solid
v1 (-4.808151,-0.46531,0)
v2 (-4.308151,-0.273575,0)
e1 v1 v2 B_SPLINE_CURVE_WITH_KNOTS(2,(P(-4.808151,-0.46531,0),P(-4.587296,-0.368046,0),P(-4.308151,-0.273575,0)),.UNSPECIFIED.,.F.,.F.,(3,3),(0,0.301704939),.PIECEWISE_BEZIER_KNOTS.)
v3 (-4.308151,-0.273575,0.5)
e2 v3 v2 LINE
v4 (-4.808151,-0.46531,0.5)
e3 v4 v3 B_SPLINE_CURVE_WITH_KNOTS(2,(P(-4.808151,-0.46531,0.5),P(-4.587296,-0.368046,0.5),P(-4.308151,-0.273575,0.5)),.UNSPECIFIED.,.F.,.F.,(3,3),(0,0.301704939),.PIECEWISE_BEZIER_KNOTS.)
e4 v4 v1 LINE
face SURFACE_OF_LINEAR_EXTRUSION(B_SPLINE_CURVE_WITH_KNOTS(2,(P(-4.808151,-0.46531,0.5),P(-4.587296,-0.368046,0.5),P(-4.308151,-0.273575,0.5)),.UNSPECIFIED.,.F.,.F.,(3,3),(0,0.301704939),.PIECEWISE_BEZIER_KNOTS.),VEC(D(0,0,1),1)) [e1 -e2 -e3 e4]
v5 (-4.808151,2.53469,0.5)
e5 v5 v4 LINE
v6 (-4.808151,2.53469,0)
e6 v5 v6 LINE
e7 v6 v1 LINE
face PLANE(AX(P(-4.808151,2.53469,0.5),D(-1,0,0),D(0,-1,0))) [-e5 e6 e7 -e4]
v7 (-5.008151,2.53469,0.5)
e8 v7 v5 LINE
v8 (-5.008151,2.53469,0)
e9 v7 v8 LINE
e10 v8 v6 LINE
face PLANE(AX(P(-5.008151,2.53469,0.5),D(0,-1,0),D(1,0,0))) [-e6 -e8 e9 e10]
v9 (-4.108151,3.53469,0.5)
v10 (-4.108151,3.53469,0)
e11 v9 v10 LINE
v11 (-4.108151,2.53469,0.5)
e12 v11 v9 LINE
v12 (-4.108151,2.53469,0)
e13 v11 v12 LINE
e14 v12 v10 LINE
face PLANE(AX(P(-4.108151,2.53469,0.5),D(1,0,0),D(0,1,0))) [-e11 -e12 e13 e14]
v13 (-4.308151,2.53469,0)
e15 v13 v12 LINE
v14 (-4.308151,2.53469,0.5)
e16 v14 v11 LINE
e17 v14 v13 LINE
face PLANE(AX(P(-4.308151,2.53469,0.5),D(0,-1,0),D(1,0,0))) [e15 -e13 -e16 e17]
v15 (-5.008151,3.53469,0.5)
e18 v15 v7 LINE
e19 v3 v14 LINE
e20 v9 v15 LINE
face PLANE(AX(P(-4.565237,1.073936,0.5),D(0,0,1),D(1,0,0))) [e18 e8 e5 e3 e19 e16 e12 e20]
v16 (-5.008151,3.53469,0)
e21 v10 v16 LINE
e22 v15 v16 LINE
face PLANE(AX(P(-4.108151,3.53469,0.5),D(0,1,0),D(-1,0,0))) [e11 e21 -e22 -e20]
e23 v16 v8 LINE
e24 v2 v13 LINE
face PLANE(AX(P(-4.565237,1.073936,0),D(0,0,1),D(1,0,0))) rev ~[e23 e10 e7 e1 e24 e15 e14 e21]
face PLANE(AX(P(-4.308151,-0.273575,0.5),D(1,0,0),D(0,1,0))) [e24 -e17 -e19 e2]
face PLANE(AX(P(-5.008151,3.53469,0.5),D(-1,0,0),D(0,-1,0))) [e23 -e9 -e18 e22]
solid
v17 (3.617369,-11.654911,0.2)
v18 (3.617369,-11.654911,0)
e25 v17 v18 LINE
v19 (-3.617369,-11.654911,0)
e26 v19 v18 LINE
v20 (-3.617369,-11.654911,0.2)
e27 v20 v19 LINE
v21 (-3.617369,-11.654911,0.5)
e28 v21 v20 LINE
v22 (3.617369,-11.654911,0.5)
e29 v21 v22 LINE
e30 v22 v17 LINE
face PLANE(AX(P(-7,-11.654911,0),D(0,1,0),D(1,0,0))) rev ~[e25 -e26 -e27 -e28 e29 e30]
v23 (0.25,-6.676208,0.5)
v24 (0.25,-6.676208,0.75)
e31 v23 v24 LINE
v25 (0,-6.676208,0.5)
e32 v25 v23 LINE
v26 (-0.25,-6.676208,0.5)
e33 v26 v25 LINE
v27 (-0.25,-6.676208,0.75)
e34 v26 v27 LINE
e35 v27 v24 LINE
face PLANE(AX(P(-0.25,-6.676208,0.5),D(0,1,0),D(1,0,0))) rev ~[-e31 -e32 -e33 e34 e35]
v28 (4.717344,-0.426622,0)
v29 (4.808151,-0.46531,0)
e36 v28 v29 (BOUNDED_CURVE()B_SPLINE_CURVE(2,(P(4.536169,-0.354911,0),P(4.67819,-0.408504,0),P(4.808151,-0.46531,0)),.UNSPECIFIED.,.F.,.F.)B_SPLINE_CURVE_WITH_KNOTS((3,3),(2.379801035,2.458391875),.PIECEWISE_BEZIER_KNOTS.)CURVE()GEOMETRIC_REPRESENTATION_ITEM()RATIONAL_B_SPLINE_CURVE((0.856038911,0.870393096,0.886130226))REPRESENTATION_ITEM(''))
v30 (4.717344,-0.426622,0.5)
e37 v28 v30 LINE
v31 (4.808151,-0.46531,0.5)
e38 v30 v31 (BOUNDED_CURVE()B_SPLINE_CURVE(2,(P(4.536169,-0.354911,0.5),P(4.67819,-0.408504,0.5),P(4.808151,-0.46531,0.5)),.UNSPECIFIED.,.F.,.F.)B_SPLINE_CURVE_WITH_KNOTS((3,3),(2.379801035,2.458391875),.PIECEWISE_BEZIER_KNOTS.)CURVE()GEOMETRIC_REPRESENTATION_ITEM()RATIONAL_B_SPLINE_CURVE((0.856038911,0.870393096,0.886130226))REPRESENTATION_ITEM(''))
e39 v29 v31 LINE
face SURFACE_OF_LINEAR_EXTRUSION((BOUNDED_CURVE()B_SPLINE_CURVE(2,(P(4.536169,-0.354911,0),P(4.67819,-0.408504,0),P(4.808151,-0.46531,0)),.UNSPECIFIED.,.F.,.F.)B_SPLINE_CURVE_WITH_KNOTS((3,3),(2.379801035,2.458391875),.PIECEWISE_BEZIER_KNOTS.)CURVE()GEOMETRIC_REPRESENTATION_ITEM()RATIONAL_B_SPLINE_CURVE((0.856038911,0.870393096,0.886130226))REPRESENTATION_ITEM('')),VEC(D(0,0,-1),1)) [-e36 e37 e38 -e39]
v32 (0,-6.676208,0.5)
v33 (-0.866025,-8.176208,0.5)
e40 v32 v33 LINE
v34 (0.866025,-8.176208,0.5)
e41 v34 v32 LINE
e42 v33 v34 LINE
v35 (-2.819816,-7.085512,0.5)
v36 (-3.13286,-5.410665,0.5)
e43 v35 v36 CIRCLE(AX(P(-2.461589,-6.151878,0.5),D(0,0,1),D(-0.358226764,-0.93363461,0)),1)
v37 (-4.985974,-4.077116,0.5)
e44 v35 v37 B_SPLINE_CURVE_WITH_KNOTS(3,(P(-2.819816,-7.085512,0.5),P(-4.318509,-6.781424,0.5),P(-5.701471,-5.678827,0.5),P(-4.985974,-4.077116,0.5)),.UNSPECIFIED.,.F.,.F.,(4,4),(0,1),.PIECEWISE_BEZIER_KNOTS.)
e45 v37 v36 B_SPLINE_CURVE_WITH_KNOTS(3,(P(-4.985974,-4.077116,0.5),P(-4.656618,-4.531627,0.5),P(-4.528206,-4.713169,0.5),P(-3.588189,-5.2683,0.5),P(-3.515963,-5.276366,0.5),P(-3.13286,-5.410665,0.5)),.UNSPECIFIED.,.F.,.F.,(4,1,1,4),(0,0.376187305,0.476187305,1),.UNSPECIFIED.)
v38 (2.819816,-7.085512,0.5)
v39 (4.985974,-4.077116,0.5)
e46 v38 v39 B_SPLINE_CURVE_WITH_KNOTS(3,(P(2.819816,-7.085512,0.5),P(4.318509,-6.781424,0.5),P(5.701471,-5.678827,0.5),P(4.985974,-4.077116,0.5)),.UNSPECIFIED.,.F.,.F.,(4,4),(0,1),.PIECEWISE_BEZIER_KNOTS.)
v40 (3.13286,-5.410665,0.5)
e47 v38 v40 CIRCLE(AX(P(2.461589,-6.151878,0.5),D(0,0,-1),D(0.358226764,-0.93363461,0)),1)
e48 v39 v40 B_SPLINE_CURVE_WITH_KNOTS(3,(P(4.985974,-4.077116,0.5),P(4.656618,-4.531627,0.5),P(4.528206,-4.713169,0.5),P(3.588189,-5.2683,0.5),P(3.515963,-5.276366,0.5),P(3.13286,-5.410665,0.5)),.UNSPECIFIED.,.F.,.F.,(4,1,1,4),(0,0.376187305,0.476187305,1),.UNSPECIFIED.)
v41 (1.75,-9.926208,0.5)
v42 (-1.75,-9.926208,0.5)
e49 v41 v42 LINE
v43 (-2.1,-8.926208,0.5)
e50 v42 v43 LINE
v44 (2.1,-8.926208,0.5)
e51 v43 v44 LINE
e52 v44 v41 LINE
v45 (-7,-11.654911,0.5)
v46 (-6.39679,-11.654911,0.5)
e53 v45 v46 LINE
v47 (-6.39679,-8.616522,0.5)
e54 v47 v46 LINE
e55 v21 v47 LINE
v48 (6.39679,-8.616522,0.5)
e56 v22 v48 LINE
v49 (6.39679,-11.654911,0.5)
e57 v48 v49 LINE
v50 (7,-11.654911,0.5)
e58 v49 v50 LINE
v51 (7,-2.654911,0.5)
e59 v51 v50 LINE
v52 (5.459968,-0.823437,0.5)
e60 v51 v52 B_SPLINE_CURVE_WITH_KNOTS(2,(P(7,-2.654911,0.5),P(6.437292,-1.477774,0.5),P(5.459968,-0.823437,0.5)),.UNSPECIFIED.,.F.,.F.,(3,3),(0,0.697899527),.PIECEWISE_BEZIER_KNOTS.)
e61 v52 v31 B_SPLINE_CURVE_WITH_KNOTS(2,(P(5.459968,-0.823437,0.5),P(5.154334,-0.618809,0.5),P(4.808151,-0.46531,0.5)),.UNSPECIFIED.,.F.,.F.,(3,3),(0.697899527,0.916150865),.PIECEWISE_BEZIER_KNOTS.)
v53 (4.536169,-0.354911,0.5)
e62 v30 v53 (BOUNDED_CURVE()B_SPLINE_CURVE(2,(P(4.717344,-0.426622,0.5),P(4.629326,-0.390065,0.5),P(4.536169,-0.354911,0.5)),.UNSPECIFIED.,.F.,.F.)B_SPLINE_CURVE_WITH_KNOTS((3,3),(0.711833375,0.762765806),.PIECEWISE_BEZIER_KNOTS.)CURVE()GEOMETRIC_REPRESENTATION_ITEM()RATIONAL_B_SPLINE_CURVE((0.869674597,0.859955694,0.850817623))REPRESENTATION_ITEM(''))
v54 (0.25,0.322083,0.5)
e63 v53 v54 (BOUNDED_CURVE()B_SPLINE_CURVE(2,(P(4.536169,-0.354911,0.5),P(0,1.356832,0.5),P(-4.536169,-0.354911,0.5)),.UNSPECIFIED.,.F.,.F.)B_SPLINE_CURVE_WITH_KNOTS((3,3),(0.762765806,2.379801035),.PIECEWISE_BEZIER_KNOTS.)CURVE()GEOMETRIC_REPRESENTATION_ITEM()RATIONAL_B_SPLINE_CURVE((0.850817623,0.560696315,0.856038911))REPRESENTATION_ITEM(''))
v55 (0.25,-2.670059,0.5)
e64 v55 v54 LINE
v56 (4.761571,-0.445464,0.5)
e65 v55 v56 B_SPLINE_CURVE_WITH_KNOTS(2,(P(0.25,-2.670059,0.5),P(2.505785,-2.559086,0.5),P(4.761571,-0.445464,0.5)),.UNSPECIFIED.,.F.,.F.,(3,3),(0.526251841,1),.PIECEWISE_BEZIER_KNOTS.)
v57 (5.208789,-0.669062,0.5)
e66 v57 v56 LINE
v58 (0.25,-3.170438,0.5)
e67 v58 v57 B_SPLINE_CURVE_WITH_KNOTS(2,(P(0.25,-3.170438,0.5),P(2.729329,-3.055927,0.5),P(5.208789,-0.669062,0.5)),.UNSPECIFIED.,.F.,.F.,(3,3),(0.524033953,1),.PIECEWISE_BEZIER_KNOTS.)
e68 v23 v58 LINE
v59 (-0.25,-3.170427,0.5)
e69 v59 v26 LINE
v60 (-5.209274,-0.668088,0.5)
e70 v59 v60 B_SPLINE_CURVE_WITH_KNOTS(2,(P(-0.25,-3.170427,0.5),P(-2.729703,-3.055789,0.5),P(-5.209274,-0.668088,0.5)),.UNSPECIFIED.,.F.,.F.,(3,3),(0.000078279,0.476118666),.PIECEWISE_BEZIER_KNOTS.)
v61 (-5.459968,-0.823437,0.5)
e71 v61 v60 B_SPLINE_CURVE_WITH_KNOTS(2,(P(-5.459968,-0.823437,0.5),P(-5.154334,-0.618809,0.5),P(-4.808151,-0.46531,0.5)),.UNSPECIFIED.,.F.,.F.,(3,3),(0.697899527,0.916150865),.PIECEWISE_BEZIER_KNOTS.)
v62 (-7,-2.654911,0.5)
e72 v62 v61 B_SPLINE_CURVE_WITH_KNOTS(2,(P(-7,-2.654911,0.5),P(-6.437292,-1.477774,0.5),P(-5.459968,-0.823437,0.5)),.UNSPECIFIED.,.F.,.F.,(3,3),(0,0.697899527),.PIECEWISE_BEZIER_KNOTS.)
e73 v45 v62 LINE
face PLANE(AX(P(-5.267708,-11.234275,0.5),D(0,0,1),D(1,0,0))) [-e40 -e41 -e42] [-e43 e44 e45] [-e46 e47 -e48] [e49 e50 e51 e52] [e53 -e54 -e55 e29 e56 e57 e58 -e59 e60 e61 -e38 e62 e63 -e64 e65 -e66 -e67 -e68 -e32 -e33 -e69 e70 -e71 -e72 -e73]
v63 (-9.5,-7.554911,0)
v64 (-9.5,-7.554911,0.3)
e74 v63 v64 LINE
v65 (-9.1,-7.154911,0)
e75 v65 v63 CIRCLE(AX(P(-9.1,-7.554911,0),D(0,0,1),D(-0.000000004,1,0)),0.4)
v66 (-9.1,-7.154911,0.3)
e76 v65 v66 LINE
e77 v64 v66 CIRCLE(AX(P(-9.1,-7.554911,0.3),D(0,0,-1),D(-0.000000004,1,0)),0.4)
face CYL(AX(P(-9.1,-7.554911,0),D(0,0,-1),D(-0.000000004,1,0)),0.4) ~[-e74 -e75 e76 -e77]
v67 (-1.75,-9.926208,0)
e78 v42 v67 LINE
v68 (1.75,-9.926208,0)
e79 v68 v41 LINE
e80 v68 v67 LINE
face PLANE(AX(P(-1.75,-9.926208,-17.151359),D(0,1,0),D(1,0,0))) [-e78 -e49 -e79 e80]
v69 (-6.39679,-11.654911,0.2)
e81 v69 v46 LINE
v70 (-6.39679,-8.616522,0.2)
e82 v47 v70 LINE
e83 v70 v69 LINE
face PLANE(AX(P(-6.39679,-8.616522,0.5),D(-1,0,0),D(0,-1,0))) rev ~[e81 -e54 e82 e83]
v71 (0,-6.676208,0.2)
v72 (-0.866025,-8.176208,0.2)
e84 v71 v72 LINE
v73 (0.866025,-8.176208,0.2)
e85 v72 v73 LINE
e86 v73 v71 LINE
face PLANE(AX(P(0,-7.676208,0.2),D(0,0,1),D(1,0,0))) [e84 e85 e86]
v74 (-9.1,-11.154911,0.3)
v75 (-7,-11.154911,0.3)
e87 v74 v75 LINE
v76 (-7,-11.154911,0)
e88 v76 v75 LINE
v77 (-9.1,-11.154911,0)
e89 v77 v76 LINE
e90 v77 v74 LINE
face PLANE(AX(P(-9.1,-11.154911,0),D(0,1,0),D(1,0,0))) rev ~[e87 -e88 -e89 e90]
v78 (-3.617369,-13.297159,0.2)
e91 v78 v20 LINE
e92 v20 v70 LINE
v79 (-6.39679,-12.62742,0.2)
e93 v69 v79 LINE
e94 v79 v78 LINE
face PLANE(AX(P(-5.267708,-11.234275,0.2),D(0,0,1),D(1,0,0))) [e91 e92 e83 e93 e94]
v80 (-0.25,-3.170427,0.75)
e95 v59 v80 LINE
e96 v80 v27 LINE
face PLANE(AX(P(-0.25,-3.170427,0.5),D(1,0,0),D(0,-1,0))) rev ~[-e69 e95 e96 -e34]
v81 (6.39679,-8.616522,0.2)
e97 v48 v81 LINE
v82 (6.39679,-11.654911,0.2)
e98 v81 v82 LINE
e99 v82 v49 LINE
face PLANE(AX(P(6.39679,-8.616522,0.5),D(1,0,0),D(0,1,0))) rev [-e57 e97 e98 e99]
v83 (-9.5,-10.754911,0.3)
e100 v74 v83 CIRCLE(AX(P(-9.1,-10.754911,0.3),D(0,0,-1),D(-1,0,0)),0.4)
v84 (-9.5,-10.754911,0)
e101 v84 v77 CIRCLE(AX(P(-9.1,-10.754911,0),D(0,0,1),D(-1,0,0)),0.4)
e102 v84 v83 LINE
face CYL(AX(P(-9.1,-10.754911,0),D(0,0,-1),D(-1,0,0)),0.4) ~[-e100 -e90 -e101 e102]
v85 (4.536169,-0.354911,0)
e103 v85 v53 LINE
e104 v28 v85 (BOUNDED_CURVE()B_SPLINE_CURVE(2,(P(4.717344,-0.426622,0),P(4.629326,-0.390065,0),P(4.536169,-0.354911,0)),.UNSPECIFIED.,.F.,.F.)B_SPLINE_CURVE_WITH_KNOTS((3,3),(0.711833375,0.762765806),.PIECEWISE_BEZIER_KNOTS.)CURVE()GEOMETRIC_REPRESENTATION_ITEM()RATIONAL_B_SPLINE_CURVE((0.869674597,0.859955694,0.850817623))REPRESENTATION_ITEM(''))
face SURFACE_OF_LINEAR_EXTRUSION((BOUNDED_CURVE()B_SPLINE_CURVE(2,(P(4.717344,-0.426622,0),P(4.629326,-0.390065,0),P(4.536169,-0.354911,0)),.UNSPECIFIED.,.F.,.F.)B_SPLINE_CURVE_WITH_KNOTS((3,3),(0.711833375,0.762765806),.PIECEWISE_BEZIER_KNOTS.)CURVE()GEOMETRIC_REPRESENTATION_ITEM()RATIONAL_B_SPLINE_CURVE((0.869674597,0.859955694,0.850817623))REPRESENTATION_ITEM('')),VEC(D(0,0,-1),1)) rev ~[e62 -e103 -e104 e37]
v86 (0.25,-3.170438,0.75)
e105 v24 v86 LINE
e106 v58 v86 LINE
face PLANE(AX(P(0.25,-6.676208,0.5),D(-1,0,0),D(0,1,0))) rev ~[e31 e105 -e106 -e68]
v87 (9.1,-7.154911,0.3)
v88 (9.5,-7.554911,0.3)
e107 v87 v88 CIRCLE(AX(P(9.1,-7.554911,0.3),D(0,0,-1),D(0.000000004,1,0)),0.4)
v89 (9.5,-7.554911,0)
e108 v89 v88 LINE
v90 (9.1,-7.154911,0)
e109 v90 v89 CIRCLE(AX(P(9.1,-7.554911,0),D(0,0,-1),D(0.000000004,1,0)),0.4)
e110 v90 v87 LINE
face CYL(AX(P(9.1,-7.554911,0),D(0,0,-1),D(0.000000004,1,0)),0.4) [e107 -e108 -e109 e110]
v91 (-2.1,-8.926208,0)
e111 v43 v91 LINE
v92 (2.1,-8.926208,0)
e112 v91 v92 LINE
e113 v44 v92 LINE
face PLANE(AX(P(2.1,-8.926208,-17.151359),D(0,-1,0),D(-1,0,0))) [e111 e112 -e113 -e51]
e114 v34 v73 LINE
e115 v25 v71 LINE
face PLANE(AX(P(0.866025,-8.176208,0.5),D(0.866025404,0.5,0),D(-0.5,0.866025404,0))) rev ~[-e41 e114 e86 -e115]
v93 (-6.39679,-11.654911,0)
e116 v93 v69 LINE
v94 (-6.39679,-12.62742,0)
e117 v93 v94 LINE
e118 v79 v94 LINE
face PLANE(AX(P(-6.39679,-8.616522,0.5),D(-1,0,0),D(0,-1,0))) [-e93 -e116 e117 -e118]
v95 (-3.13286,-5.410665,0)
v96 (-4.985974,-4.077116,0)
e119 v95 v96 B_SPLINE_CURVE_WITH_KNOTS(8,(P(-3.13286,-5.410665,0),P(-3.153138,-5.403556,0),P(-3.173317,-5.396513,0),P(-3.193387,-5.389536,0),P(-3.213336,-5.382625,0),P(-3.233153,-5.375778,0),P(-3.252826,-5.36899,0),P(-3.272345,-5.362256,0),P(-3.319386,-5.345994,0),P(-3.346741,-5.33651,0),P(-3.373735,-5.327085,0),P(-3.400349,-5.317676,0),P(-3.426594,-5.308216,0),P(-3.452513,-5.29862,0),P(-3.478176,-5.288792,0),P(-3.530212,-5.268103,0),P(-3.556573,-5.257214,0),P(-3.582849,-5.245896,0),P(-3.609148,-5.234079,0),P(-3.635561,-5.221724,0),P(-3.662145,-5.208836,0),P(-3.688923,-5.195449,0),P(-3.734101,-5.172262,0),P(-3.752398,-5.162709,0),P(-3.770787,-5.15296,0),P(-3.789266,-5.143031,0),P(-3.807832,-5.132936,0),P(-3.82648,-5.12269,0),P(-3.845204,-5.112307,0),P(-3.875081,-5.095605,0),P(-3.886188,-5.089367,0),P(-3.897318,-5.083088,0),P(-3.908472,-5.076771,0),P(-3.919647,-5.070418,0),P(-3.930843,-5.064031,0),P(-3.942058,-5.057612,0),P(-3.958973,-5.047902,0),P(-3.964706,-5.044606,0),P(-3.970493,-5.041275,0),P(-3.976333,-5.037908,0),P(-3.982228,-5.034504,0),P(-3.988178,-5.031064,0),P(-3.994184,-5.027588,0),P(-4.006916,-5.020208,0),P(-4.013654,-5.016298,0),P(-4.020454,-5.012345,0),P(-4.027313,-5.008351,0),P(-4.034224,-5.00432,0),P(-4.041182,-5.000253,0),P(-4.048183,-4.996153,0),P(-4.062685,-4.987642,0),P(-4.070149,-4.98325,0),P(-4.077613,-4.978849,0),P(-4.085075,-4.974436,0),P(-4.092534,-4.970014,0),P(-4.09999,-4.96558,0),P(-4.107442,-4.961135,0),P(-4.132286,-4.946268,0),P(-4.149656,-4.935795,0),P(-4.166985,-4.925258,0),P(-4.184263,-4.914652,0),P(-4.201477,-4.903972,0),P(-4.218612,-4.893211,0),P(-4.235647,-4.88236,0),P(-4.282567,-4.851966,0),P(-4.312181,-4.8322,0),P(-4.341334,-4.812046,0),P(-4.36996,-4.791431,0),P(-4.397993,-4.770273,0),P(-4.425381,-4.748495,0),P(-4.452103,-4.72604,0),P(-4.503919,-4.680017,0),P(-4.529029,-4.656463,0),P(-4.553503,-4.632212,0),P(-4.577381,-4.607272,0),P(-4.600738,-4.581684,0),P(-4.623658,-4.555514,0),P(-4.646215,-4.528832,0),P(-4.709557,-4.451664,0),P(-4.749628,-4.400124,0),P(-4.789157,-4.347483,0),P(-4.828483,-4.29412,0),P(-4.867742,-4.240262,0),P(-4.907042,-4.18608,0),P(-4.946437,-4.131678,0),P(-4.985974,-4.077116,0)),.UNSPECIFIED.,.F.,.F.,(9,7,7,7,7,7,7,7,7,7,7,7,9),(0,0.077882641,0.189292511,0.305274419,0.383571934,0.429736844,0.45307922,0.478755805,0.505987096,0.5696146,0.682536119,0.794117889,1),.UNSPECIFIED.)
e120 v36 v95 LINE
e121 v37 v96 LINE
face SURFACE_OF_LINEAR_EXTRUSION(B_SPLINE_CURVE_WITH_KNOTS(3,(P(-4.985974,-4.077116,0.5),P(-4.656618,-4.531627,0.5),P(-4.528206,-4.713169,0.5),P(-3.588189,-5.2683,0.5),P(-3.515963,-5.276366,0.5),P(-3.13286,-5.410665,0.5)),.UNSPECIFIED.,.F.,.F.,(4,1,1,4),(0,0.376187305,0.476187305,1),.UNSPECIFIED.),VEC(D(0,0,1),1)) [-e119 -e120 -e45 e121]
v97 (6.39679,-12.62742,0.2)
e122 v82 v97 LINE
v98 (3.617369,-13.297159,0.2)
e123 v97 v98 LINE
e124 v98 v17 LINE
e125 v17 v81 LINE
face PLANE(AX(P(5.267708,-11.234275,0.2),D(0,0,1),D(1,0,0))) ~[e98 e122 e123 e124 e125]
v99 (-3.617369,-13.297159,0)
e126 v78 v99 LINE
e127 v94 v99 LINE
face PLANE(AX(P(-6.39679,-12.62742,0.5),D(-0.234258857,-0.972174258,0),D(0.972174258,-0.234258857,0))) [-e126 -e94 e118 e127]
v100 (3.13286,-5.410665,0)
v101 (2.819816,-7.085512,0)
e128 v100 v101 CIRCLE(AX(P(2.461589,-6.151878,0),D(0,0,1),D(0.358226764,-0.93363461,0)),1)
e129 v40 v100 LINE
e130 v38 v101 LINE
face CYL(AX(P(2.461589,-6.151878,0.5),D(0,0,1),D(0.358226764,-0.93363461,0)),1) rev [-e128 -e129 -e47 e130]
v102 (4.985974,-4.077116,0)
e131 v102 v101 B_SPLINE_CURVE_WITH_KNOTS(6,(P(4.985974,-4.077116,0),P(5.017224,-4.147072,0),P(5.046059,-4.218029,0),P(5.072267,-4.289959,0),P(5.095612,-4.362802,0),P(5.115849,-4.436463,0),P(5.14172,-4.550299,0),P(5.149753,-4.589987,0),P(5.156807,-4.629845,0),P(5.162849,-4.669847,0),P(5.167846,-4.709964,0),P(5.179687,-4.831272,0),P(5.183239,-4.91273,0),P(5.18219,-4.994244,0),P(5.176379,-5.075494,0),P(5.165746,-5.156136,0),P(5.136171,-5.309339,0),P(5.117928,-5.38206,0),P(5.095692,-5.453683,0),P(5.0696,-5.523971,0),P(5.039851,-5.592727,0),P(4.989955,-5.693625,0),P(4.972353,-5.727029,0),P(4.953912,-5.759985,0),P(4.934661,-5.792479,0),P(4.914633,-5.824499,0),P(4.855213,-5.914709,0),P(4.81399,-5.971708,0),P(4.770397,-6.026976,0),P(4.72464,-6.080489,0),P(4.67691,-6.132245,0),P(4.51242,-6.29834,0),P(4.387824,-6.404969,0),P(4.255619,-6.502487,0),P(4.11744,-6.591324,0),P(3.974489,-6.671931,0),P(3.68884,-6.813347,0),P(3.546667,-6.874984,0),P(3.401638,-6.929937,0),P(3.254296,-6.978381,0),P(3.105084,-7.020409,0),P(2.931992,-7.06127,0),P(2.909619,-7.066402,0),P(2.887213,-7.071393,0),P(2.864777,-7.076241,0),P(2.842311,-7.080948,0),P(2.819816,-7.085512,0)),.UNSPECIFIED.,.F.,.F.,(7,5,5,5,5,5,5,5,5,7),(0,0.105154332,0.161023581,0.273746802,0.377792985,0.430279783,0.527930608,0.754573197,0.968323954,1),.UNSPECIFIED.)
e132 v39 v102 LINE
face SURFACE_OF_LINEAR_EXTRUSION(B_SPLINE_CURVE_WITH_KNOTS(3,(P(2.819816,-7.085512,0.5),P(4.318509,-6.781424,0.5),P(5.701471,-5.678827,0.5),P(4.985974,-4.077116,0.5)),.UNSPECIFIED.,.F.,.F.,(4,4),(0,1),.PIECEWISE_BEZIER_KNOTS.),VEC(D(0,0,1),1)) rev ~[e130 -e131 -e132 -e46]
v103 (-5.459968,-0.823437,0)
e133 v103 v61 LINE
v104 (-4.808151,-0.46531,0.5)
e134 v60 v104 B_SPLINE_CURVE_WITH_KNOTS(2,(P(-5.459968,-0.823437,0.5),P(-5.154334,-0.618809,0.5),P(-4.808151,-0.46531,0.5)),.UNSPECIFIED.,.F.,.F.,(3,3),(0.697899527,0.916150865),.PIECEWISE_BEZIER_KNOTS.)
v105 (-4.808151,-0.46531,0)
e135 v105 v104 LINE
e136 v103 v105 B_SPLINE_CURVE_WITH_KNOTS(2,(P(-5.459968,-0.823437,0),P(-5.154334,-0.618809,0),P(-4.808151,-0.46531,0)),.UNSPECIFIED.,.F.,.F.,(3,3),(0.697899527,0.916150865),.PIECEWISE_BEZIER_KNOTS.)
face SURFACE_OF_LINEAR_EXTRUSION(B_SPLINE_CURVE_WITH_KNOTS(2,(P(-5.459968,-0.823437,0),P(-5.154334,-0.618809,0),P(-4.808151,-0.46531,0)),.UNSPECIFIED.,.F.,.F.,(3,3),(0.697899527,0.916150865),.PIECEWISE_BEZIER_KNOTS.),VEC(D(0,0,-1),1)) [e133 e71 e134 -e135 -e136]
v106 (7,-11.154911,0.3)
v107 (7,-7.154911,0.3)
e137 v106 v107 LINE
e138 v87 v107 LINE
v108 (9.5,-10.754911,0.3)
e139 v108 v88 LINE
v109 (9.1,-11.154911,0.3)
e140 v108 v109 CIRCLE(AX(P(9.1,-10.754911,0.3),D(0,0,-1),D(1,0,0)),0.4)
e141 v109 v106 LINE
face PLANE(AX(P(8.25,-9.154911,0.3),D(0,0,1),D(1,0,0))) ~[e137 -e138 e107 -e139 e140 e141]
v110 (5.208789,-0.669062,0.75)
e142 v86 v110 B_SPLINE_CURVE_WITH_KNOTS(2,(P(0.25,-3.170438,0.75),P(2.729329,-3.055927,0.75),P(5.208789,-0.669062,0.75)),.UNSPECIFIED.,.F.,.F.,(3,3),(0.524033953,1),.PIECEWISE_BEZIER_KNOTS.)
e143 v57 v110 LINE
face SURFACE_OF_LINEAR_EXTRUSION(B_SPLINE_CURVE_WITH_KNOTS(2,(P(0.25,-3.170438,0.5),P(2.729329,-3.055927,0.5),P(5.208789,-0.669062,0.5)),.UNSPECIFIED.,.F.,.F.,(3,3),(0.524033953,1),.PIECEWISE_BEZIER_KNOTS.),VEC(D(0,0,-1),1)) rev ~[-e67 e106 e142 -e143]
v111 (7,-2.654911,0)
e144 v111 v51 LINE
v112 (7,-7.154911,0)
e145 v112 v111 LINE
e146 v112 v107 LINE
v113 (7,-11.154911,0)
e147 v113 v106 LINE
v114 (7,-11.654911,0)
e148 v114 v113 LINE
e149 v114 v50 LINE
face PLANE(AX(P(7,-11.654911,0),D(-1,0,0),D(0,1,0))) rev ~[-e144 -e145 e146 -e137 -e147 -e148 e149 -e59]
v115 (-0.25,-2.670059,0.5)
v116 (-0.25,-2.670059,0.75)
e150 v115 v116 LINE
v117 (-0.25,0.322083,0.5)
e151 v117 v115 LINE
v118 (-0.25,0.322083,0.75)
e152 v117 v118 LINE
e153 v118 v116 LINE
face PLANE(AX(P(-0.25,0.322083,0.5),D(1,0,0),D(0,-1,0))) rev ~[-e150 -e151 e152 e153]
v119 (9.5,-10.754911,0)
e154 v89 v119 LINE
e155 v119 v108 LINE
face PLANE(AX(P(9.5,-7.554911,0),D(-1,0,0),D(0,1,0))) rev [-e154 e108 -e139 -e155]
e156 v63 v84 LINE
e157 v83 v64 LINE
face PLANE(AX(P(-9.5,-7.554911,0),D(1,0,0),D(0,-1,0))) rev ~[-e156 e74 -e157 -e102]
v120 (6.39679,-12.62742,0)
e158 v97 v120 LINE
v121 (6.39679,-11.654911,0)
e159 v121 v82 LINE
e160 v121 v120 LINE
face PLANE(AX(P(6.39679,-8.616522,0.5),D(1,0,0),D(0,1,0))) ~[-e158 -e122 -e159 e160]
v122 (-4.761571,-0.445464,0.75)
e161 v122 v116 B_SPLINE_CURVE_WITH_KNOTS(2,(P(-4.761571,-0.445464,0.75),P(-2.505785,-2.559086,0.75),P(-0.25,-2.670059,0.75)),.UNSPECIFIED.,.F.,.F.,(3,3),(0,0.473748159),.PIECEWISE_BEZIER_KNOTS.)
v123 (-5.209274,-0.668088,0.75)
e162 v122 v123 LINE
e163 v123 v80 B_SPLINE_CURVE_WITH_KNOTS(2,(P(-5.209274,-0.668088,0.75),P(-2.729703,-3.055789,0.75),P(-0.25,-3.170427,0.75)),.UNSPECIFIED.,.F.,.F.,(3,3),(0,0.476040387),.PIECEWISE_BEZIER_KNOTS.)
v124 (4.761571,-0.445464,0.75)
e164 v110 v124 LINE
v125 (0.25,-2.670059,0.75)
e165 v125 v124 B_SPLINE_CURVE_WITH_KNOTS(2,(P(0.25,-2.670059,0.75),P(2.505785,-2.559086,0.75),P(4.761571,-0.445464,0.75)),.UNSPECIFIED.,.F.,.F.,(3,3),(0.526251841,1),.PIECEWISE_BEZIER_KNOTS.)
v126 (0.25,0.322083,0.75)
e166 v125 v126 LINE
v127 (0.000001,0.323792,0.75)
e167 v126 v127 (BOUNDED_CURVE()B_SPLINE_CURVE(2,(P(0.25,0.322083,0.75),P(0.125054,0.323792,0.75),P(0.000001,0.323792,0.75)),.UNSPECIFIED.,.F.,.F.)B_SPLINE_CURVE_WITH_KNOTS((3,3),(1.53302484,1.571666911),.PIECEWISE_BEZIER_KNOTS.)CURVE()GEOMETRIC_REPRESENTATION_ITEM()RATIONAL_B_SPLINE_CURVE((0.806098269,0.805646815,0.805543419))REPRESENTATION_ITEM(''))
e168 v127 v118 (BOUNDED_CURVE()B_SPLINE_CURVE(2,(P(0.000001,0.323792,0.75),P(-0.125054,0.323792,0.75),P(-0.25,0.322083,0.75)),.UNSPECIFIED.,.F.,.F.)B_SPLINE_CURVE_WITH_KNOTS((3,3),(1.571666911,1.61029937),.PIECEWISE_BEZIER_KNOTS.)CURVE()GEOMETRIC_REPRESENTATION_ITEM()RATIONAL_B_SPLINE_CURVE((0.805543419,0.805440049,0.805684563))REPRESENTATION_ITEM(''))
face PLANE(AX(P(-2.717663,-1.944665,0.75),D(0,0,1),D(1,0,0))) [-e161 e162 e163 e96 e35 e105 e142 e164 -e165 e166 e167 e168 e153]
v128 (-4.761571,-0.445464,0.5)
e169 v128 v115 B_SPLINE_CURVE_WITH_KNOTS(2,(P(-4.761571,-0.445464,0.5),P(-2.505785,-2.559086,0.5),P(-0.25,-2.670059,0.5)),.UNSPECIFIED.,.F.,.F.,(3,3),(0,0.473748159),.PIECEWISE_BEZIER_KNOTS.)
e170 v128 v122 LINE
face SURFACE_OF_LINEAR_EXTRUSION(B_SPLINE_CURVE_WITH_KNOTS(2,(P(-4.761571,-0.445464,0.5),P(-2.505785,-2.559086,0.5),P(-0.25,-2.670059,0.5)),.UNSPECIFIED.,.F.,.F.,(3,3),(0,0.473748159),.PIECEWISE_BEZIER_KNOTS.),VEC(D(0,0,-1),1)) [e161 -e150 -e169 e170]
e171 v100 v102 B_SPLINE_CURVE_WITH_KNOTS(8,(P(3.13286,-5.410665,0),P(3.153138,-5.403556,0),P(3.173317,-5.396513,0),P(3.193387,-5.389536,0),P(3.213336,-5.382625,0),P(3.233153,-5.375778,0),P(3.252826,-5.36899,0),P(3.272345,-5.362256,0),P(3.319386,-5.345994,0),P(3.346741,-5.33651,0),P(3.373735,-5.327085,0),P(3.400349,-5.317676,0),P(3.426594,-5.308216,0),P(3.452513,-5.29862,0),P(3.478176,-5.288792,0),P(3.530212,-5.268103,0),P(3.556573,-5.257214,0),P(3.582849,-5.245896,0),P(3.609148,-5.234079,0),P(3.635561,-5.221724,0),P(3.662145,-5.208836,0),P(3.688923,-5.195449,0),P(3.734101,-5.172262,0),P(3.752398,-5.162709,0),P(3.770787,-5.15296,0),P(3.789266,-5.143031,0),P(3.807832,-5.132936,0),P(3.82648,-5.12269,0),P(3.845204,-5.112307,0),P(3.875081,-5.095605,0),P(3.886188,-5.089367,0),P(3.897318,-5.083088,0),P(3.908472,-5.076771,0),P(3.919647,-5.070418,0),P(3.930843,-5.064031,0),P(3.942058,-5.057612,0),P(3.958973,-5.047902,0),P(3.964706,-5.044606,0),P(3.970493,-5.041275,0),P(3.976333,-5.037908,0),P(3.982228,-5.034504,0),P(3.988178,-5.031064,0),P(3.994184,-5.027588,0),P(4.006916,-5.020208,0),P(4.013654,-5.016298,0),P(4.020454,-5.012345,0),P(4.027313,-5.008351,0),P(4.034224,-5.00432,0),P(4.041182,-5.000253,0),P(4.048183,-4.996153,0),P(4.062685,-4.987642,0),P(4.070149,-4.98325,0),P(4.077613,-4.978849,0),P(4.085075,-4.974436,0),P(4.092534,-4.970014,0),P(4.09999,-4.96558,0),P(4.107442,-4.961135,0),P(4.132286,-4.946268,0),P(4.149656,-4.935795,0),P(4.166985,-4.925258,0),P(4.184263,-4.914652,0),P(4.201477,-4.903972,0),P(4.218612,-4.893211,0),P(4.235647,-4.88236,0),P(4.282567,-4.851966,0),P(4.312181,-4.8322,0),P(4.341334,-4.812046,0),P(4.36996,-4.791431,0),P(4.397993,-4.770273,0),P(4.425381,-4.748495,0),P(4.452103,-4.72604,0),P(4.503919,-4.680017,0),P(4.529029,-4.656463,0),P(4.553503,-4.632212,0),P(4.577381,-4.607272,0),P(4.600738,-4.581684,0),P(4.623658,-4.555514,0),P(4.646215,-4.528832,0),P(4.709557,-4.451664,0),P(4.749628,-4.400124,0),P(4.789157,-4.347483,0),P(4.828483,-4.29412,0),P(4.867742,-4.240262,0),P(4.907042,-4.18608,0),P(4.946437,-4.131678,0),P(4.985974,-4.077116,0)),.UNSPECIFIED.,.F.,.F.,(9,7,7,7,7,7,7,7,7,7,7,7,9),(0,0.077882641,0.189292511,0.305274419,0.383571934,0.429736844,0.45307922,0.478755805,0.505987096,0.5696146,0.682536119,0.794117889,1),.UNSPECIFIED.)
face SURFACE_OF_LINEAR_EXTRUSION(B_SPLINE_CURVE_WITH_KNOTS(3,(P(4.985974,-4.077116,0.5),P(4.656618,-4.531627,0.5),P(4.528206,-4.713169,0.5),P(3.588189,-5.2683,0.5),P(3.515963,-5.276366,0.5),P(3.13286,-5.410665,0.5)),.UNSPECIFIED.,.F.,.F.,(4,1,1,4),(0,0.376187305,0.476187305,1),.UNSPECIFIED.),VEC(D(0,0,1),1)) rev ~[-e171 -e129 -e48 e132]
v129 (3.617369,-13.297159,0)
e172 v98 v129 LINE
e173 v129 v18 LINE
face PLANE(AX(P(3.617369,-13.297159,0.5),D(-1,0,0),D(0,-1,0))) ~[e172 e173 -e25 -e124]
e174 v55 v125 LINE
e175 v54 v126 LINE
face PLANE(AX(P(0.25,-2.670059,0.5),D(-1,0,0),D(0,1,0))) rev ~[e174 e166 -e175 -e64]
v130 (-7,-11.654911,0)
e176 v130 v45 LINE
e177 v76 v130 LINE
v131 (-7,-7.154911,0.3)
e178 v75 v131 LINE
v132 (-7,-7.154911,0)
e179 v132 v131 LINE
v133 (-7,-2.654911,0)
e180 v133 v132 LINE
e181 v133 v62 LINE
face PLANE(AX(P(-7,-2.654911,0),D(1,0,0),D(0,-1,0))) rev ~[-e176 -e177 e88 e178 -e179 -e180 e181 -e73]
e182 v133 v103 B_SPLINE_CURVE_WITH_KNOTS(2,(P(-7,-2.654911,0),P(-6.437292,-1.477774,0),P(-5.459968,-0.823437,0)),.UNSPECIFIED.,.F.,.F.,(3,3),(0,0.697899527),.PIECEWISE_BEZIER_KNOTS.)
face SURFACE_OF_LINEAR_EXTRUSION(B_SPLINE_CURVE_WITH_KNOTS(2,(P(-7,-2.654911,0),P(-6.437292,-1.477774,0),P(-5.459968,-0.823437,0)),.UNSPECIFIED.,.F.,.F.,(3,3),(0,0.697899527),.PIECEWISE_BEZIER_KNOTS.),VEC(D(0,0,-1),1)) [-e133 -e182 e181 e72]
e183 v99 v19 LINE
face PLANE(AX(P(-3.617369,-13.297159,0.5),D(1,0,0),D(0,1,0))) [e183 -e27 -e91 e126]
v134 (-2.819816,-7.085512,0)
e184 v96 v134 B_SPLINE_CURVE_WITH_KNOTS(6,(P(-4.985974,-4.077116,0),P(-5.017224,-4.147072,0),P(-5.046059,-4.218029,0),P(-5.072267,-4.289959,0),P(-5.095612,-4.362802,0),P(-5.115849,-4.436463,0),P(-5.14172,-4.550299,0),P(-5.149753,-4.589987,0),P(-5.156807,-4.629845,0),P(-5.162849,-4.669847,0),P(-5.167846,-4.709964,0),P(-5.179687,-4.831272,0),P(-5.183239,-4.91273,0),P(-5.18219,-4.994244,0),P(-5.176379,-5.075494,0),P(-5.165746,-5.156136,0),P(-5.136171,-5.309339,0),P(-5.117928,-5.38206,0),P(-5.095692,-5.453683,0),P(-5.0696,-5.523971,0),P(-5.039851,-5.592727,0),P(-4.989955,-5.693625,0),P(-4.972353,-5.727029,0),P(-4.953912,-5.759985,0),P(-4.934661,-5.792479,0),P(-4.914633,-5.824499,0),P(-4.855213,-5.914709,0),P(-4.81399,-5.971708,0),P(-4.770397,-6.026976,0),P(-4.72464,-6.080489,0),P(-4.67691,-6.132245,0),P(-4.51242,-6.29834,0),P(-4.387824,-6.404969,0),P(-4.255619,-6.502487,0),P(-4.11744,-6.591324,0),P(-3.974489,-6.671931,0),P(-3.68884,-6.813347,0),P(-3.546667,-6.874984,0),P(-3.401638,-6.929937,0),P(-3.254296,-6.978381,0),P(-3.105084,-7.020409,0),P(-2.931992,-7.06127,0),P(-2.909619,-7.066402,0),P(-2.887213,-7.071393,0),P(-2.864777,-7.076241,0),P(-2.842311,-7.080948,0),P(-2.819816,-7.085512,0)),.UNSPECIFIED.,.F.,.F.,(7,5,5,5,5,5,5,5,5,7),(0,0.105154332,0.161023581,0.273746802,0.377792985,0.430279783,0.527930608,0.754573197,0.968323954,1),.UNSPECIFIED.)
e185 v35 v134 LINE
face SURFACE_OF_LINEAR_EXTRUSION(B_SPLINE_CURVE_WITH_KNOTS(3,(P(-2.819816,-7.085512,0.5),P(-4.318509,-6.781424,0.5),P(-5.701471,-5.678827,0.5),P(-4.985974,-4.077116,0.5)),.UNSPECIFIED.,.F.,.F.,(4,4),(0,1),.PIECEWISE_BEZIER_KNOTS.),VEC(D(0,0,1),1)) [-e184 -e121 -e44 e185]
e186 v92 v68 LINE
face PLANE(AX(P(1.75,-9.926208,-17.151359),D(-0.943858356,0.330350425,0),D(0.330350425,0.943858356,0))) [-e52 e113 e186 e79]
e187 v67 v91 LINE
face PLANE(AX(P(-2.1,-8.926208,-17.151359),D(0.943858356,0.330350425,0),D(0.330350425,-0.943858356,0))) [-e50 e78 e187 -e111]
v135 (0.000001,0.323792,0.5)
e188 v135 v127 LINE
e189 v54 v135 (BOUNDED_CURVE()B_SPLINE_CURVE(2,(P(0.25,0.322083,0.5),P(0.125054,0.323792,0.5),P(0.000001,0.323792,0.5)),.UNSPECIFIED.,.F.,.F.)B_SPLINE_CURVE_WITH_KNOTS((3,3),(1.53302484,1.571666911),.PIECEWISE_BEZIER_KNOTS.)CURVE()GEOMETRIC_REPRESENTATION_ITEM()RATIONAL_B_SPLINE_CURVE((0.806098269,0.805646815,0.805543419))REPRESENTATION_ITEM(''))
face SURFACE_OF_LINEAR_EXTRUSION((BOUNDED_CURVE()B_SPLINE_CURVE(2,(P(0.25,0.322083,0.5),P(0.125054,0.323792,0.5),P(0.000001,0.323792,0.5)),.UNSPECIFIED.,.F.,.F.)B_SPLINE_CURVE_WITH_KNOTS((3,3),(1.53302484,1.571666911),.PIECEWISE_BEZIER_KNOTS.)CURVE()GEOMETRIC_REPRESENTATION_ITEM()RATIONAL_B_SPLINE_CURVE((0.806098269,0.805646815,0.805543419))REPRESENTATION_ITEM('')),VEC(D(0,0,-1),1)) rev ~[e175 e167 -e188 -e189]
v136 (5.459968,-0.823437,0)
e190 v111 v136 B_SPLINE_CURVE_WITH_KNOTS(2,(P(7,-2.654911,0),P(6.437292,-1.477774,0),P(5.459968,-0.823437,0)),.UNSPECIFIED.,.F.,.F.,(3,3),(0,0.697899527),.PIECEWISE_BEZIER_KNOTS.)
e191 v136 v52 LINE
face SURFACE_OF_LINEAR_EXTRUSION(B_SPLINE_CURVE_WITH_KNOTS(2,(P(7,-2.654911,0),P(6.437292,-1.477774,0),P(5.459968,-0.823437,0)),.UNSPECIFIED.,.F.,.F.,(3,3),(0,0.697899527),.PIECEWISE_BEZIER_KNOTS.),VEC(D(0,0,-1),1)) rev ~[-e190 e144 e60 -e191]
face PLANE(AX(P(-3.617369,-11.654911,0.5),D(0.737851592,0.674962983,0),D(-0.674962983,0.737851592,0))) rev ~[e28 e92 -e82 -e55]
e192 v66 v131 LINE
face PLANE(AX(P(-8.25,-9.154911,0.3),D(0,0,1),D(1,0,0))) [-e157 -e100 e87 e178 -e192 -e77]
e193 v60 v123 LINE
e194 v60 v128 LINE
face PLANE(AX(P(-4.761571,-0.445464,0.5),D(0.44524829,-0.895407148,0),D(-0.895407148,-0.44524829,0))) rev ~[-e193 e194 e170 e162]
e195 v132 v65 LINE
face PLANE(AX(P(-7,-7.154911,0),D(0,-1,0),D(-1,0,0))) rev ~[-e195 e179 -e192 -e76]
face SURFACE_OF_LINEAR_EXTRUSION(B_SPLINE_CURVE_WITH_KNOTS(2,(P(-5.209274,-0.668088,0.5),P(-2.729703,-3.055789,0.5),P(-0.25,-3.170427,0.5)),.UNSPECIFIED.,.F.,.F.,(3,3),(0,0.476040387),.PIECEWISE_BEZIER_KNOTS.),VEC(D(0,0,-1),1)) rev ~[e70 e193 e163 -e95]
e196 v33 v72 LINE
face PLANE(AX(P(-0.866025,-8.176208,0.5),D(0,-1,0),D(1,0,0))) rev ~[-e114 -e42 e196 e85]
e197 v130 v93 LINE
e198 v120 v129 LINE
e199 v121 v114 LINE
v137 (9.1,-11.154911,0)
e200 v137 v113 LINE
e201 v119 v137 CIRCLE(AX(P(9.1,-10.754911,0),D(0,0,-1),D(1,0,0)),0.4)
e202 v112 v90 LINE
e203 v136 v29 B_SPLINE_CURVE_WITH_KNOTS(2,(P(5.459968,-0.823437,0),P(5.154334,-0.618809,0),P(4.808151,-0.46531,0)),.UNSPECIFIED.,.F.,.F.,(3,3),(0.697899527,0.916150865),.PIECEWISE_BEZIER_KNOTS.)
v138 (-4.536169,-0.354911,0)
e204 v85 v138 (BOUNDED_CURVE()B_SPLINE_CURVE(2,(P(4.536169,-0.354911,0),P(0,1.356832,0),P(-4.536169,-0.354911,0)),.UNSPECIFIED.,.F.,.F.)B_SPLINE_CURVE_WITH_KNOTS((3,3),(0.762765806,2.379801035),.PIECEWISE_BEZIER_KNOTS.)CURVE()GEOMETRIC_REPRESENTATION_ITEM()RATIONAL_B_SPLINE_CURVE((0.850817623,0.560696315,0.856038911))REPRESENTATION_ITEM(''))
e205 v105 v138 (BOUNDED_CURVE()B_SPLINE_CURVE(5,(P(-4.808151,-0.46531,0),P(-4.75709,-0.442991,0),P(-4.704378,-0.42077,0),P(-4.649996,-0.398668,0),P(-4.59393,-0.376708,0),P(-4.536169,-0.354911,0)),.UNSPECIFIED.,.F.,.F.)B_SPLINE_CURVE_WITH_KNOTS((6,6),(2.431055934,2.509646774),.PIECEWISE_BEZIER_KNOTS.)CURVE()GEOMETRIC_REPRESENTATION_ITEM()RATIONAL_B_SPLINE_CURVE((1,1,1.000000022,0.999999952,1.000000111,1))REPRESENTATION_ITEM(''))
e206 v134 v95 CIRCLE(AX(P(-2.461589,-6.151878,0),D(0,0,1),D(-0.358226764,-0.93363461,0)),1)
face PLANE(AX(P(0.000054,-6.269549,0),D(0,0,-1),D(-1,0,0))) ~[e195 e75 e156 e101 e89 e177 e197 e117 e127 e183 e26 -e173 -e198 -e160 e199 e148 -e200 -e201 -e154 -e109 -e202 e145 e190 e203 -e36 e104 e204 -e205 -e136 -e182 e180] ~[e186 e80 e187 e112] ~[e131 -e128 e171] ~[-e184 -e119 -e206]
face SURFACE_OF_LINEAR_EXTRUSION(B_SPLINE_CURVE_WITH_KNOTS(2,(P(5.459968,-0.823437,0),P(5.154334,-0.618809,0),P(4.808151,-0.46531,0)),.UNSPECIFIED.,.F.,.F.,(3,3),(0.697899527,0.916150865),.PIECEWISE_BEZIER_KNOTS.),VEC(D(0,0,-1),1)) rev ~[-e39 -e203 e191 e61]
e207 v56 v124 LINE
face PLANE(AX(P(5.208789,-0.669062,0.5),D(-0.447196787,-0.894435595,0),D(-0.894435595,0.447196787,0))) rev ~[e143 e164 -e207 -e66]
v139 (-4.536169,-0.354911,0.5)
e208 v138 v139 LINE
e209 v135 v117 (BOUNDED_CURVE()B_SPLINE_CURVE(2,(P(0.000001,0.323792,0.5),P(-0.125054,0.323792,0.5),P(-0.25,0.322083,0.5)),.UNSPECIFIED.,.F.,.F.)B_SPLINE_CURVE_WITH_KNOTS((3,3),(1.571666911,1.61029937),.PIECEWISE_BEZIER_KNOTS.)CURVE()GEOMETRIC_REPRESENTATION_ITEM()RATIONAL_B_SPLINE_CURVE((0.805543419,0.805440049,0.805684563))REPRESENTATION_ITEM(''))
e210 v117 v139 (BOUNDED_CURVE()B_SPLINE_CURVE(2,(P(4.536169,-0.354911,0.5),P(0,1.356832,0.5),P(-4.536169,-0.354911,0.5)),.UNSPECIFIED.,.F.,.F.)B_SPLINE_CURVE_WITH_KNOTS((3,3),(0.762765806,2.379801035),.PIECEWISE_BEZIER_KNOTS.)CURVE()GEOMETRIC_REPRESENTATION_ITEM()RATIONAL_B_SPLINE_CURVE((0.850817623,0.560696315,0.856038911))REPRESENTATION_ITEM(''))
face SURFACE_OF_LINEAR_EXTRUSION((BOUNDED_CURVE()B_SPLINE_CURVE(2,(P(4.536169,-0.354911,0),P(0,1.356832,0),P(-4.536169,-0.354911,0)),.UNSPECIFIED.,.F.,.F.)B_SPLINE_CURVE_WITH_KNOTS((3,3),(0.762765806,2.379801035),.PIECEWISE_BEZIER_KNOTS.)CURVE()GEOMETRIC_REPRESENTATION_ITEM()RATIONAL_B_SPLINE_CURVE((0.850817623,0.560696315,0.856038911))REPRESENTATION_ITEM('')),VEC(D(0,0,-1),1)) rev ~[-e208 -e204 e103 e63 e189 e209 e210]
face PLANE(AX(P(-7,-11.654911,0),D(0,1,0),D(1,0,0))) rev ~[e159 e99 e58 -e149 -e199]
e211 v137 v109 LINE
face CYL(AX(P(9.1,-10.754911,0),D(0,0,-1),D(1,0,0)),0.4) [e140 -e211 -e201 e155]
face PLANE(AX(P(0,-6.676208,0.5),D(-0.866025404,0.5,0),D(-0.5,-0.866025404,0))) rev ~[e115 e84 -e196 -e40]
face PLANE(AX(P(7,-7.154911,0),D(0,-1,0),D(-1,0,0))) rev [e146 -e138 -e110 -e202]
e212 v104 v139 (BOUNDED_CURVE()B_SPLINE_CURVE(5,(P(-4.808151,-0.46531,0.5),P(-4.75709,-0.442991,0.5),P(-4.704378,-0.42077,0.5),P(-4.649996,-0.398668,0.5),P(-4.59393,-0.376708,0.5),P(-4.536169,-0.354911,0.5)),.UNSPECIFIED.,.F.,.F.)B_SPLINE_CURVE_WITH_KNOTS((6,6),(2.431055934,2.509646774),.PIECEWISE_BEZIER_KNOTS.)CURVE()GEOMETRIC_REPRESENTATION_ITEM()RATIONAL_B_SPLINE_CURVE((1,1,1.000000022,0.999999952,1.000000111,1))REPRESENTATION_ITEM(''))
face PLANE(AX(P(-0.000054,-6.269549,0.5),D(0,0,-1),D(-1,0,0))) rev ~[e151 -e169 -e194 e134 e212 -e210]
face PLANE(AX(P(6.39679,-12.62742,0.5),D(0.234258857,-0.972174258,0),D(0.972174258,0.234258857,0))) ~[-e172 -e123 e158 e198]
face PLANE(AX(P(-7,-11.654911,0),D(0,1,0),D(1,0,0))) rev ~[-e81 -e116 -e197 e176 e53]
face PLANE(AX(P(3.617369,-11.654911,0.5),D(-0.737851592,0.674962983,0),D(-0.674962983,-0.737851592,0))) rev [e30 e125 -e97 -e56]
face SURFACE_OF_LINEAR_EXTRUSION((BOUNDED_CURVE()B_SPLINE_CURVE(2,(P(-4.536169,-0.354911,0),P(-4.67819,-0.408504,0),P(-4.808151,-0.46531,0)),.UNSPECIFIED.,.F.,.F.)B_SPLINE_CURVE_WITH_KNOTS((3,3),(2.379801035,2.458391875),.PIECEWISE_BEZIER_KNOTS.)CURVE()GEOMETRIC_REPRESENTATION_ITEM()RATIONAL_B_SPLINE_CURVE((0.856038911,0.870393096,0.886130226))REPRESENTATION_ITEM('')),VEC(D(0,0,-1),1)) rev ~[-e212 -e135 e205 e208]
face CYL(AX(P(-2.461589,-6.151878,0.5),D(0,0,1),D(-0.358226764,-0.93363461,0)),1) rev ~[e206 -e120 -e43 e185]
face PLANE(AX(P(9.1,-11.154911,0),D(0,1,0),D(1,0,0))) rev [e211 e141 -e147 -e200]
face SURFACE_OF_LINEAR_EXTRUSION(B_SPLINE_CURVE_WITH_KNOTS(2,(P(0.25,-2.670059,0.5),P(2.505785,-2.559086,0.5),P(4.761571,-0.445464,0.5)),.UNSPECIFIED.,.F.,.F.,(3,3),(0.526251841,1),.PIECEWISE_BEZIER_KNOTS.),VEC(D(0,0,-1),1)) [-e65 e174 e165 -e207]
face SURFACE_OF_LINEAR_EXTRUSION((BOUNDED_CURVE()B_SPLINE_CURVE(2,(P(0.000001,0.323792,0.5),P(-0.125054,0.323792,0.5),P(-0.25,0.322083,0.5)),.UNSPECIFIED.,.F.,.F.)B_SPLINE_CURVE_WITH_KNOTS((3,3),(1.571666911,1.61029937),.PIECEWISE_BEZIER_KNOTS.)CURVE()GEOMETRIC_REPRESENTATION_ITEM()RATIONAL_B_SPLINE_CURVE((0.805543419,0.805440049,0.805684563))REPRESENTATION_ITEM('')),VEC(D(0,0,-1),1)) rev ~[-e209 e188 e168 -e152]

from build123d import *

# Parameters (mm, degrees)
SALIENTE_EXTRUIR1_DEPTH    = 0.5
SALIENTE_EXTRUIR3_DEPTH    = 0.25
CROQUIS3_W                 = 2.5
CROQUIS3_H                 = 4
CORTAR_EXTRUIR1_DEPTH      = 0.2
CORTAR_EXTRUIR2_DEPTH      = 16.044499449
CORTAR_EXTRUIR3_DEPTH      = 0.3
CROQUIS6_W                 = 0.5
CROQUIS6_H                 = 0.5
SALIENTE_EXTRUIR4_DEPTH    = 0.5
SALIENTE_EXTRUIR5_DEPTH    = 0.5
CORTAR_EXTRUIR4_DEPTH      = 0.3
CORTAR_EXTRUIR6_DEPTH      = 17.351359419
CORTAR_EXTRUIR6_DEPTH_BACK = 17.351359419


with BuildPart() as part:
    # Croquis1 → Saliente-Extruir1 (new body)
    with BuildSketch(Plane.XY):
        with BuildLine():
            add(Edge.make_bspline(
                [(-7, -2.654911382), (-6.43729165, -1.477773663), (-5.459968138, -0.823437035)],
                knots=[0, 0, 0, 0.697899527, 0.697899527, 0.697899527], degree=2))
            Line((-7, -2.654911382), (-7, -7.154911382))
            Line((-7, -7.154911382), (-7, -11.154911382))
            Line((-7, -11.154911382), (-7, -11.654911382))
            Line((-7, -11.654911382), (7, -11.654911382))
            Line((7, -11.654911382), (7, -2.654911382))
            add(Edge.make_bspline(
                [(7, -2.654911382), (6.4475595, -1.500710504), (5.493472653, -0.847655691)],
                knots=[0, 0, 0, 0.686055161, 0.686055161, 0.686055161], degree=2))
            add(Edge.make_bspline(
                [(5.493472653, -0.847655691), (5.133927957, -0.601553992), (4.717344015, -0.426621853)],
                knots=[0.686055161, 0.686055161, 0.686055161, 0.94459294, 0.94459294, 0.94459294], degree=2))
            add(Edge.make_bspline(
                [(4.717344015, -0.426621853), (4.629325683, -0.390064605), (4.536168631, -0.354911382)],
                knots=[0.711833375, 0.711833375, 0.711833375, 0.762765806, 0.762765806, 0.762765806], degree=2, weights=[0.869674597, 0.859955694, 0.850817623]))
            add(Edge.make_bspline(
                [(4.536168631, -0.354911382), (0, 1.356831766), (-4.536168631, -0.354911382)],
                knots=[0.762765806, 0.762765806, 0.762765806, 2.379801035, 2.379801035, 2.379801035], degree=2, weights=[0.850817623, 0.560696315, 0.856038911]))
            add(Edge.make_bspline(
                [(-4.536168631, -0.354911382), (-4.678190069, -0.408503796), (-4.808150811, -0.465309533)],
                knots=[2.379801035, 2.379801035, 2.379801035, 2.458391875, 2.458391875, 2.458391875], degree=2, weights=[0.856038911, 0.870393096, 0.886130226]))
            add(Edge.make_bspline(
                [(-5.459968138, -0.823437035), (-5.15433365, -0.618808948), (-4.808150811, -0.465309533)],
                knots=[0.697899527, 0.697899527, 0.697899527, 0.916150865, 0.916150865, 0.916150865], degree=2))
        make_face()
        with BuildLine():
            Line((-7, -11.154911382), (-7, -7.154911382))
            Line((-7, -7.154911382), (-9.1, -7.154911382))
            ThreePointArc((-9.1, -7.154911382), (-9.382842712, -7.27206867), (-9.5, -7.554911382))
            Line((-9.5, -7.554911382), (-9.5, -10.754911382))
            ThreePointArc((-9.5, -10.754911382), (-9.382842712, -11.037754095), (-9.1, -11.154911382))
            Line((-9.1, -11.154911382), (-7, -11.154911382))
        make_face()
    saliente_extruir1 = extrude(amount=SALIENTE_EXTRUIR1_DEPTH)

    # Croquis2 → Saliente-Extruir3 (add)
    with BuildSketch(Plane.XY.offset(0.5)):
        with BuildLine():
            add(Edge.make_bspline(
                [(-5.209274341, -0.668087715), (-2.729702745, -3.055789139), (-0.25, -3.170426724)],
                knots=[0, 0, 0, 0.476040387, 0.476040387, 0.476040387], degree=2))
            Line((-0.25, -3.170426724), (-0.25, -2.670058896))
            add(Edge.make_bspline(
                [(-4.761570767, -0.44546357), (-2.505785384, -2.559085938), (-0.25, -2.670058896)],
                knots=[0, 0, 0, 0.473748159, 0.473748159, 0.473748159], degree=2))
            Line((-4.761570767, -0.44546357), (-5.209274341, -0.668087715))
        make_face()
        with BuildLine():
            Line((0.25, -2.670058896), (0.25, -3.170437695))
            add(Edge.make_bspline(
                [(0.25, -3.170437695), (2.729328728, -3.055926808), (5.208788565, -0.669061964)],
                knots=[0.524033953, 0.524033953, 0.524033953, 1, 1, 1], degree=2))
            Line((5.208788565, -0.669061964), (4.761570767, -0.44546357))
            add(Edge.make_bspline(
                [(0.25, -2.670058896), (2.505785384, -2.559085938), (4.761570767, -0.44546357)],
                knots=[0.526251841, 0.526251841, 0.526251841, 1, 1, 1], degree=2))
        make_face()
        with BuildLine():
            Line((-0.25, -3.170426724), (-0.25, -6.676208248))
            Line((-0.25, -6.676208248), (0.25, -6.676208248))
            Line((0.25, -6.676208248), (0.25, -3.170437695))
            add(Edge.make_bspline(
                [(-0.25, -3.170426724), (-6.67e-07, -3.181984287), (0.25, -3.170437695)],
                knots=[0.476040387, 0.476040387, 0.476040387, 0.524033953, 0.524033953, 0.524033953], degree=2))
        make_face()
        with BuildLine():
            Line((-0.25, 0.322083073), (-0.25, -2.670058896))
            add(Edge.make_bspline(
                [(-0.25, -2.670058896), (0, -2.682357601), (0.25, -2.670058896)],
                knots=[0.473748159, 0.473748159, 0.473748159, 0.526251841, 0.526251841, 0.526251841], degree=2))
            Line((0.25, -2.670058896), (0.25, 0.322083073))
            add(Edge.make_bspline(
                [(0.25, 0.322083073), (0.125054487, 0.323791745), (9.86e-07, 0.323791752)],
                knots=[1.53302484, 1.53302484, 1.53302484, 1.571666911, 1.571666911, 1.571666911], degree=2, weights=[0.806098269, 0.805646815, 0.805543419]))
            add(Edge.make_bspline(
                [(9.86e-07, 0.323791752), (-0.125053501, 0.323791758), (-0.25, 0.322083073)],
                knots=[1.571666911, 1.571666911, 1.571666911, 1.61029937, 1.61029937, 1.61029937], degree=2, weights=[0.805543419, 0.805440049, 0.805684563]))
        make_face()
        with BuildLine():
            Line((-0.25, -2.670058896), (-0.25, -3.170426724))
            add(Edge.make_bspline(
                [(-0.25, -3.170426724), (-6.67e-07, -3.181984287), (0.25, -3.170437695)],
                knots=[0.476040387, 0.476040387, 0.476040387, 0.524033953, 0.524033953, 0.524033953], degree=2))
            Line((0.25, -3.170437695), (0.25, -2.670058896))
            add(Edge.make_bspline(
                [(-0.25, -2.670058896), (0, -2.682357601), (0.25, -2.670058896)],
                knots=[0.473748159, 0.473748159, 0.473748159, 0.526251841, 0.526251841, 0.526251841], degree=2))
        make_face()
    extrude(amount=SALIENTE_EXTRUIR3_DEPTH)

    # Croquis3 → Cortar-Extruir1 (cut)
    with BuildSketch(Plane.XY.offset(0.5)):
        with Locations((-8.25, -9.154911382)):
            Rectangle(CROQUIS3_W, CROQUIS3_H)
    cortar_extruir1 = extrude(amount=-CORTAR_EXTRUIR1_DEPTH, mode=Mode.SUBTRACT)

    # Simetría4: Saliente-Extruir1, Cortar-Extruir1 across plane
    add(saliente_extruir1.mirror(Plane(origin=(0, 0, 0), x_dir=(0, 0, 1), z_dir=(1, 0, 0))))
    add(cortar_extruir1.mirror(Plane(origin=(0, 0, 0), x_dir=(0, 0, 1), z_dir=(1, 0, 0))), mode=Mode.SUBTRACT)

    # Croquis4 → Cortar-Extruir2 (cut, through all)
    with BuildSketch(Plane.XY.offset(0.5)):
        with BuildLine():
            ThreePointArc((-2.819816225, -7.085512289), (-1.478612147, -5.968150706), (-3.132859694, -5.410664974))
            add(Edge.make_bspline(
                [(-4.985974264, -4.077116226), (-4.656618425, -4.531627284), (-4.528206239, -4.71316852), (-3.588188991, -5.268300344), (-3.515962957, -5.276366331), (-3.132859694, -5.410664974)],
                knots=[0, 0, 0, 0, 0.376187305, 0.476187305, 1, 1, 1, 1], degree=3))
            add(Edge.make_bspline(
                [(-2.819816225, -7.085512289), (-4.318509024, -6.781423826), (-5.701470772, -5.678827367), (-4.985974264, -4.077116226)],
                knots=[0, 0, 0, 0, 1, 1, 1, 1], degree=3))
        make_face()
    cortar_extruir2 = extrude(amount=-CORTAR_EXTRUIR2_DEPTH, mode=Mode.SUBTRACT)

    # Croquis5 → Cortar-Extruir3 (cut)
    with BuildSketch(Plane.XY.offset(0.5)):
        Polygon((0.866025404, -8.176208248), (0, -6.676208248), (-0.866025404, -8.176208248), align=None)
        Polygon((-2.1, -8.926208248), (2.1, -8.926208248), (1.75, -9.926208248), (-1.75, -9.926208248), align=None)
    extrude(amount=-CORTAR_EXTRUIR3_DEPTH, mode=Mode.SUBTRACT)

    # Croquis7 → Saliente-Extruir5 (add)
    with BuildSketch(Plane.XY.offset(0.5)):
        Polygon((-6.396790084, -8.616522375), (-6.396790084, -12.627419512), (-3.617369223, -13.297159478), (-3.617369223, -11.654911382), align=None)
    saliente_extruir5 = extrude(amount=-SALIENTE_EXTRUIR5_DEPTH)

    # Croquis8 → Cortar-Extruir4 (cut)
    with BuildSketch(Plane.XY.offset(0.5)):
        Polygon((-6.396790084, -12.627419512), (-3.617369223, -13.297159478), (-3.617369223, -11.654911382), (-6.396790084, -8.616522375), align=None)
    cortar_extruir4 = extrude(amount=-CORTAR_EXTRUIR4_DEPTH, mode=Mode.SUBTRACT)

    # Simetría3: Cortar-Extruir2, Saliente-Extruir5, Cortar-Extruir4 across plane
    add(cortar_extruir2.mirror(Plane(origin=(0, 0, 0), x_dir=(0, 0, 1), z_dir=(1, 0, 0))), mode=Mode.SUBTRACT)
    add(saliente_extruir5.mirror(Plane(origin=(0, 0, 0), x_dir=(0, 0, 1), z_dir=(1, 0, 0))))
    add(cortar_extruir4.mirror(Plane(origin=(0, 0, 0), x_dir=(0, 0, 1), z_dir=(1, 0, 0))), mode=Mode.SUBTRACT)

    # Croquis10 → Cortar-Extruir6 (cut, two sides: drawn at the far end of the back side and taken through both)
    with BuildSketch(Plane.XY.offset(0.2).offset(-CORTAR_EXTRUIR6_DEPTH_BACK)):
        Polygon((-1.75, -9.926208248), (1.75, -9.926208248), (2.1, -8.926208248), (-2.1, -8.926208248), align=None)
    extrude(amount=CORTAR_EXTRUIR6_DEPTH + CORTAR_EXTRUIR6_DEPTH_BACK, mode=Mode.SUBTRACT)


with BuildPart() as body_2:
    # Croquis6 → Saliente-Extruir4 (new body)
    with BuildSketch(Plane.XY.offset(0.5)):
        with BuildLine():
            Line((-4.808150811, 2.534690467), (-4.808150811, -0.465309533))
            add(Edge.make_bspline(
                [(-4.808150811, -0.465309533), (-4.587296252, -0.368045953), (-4.308150811, -0.273574887)],
                knots=[0, 0, 0, 0.301704939, 0.301704939, 0.301704939], degree=2))
            Line((-4.308150811, -0.273574887), (-4.308150811, 2.534690467))
            Line((-4.308150811, 2.534690467), (-4.808150811, 2.534690467))
        make_face()
        Polygon((-5.008150811, 2.534690467), (-4.808150811, 2.534690467), (-4.808150811, 3.034690467), (-4.308150811, 3.034690467), (-4.308150811, 2.534690467), (-4.108150811, 2.534690467), (-4.108150811, 3.534690467), (-5.008150811, 3.534690467), align=None)
        with Locations((-4.558150811, 2.784690467)):
            Rectangle(CROQUIS6_W, CROQUIS6_H)
    extrude(amount=-SALIENTE_EXTRUIR4_DEPTH)


solid = Compound([part.part, body_2.part])
